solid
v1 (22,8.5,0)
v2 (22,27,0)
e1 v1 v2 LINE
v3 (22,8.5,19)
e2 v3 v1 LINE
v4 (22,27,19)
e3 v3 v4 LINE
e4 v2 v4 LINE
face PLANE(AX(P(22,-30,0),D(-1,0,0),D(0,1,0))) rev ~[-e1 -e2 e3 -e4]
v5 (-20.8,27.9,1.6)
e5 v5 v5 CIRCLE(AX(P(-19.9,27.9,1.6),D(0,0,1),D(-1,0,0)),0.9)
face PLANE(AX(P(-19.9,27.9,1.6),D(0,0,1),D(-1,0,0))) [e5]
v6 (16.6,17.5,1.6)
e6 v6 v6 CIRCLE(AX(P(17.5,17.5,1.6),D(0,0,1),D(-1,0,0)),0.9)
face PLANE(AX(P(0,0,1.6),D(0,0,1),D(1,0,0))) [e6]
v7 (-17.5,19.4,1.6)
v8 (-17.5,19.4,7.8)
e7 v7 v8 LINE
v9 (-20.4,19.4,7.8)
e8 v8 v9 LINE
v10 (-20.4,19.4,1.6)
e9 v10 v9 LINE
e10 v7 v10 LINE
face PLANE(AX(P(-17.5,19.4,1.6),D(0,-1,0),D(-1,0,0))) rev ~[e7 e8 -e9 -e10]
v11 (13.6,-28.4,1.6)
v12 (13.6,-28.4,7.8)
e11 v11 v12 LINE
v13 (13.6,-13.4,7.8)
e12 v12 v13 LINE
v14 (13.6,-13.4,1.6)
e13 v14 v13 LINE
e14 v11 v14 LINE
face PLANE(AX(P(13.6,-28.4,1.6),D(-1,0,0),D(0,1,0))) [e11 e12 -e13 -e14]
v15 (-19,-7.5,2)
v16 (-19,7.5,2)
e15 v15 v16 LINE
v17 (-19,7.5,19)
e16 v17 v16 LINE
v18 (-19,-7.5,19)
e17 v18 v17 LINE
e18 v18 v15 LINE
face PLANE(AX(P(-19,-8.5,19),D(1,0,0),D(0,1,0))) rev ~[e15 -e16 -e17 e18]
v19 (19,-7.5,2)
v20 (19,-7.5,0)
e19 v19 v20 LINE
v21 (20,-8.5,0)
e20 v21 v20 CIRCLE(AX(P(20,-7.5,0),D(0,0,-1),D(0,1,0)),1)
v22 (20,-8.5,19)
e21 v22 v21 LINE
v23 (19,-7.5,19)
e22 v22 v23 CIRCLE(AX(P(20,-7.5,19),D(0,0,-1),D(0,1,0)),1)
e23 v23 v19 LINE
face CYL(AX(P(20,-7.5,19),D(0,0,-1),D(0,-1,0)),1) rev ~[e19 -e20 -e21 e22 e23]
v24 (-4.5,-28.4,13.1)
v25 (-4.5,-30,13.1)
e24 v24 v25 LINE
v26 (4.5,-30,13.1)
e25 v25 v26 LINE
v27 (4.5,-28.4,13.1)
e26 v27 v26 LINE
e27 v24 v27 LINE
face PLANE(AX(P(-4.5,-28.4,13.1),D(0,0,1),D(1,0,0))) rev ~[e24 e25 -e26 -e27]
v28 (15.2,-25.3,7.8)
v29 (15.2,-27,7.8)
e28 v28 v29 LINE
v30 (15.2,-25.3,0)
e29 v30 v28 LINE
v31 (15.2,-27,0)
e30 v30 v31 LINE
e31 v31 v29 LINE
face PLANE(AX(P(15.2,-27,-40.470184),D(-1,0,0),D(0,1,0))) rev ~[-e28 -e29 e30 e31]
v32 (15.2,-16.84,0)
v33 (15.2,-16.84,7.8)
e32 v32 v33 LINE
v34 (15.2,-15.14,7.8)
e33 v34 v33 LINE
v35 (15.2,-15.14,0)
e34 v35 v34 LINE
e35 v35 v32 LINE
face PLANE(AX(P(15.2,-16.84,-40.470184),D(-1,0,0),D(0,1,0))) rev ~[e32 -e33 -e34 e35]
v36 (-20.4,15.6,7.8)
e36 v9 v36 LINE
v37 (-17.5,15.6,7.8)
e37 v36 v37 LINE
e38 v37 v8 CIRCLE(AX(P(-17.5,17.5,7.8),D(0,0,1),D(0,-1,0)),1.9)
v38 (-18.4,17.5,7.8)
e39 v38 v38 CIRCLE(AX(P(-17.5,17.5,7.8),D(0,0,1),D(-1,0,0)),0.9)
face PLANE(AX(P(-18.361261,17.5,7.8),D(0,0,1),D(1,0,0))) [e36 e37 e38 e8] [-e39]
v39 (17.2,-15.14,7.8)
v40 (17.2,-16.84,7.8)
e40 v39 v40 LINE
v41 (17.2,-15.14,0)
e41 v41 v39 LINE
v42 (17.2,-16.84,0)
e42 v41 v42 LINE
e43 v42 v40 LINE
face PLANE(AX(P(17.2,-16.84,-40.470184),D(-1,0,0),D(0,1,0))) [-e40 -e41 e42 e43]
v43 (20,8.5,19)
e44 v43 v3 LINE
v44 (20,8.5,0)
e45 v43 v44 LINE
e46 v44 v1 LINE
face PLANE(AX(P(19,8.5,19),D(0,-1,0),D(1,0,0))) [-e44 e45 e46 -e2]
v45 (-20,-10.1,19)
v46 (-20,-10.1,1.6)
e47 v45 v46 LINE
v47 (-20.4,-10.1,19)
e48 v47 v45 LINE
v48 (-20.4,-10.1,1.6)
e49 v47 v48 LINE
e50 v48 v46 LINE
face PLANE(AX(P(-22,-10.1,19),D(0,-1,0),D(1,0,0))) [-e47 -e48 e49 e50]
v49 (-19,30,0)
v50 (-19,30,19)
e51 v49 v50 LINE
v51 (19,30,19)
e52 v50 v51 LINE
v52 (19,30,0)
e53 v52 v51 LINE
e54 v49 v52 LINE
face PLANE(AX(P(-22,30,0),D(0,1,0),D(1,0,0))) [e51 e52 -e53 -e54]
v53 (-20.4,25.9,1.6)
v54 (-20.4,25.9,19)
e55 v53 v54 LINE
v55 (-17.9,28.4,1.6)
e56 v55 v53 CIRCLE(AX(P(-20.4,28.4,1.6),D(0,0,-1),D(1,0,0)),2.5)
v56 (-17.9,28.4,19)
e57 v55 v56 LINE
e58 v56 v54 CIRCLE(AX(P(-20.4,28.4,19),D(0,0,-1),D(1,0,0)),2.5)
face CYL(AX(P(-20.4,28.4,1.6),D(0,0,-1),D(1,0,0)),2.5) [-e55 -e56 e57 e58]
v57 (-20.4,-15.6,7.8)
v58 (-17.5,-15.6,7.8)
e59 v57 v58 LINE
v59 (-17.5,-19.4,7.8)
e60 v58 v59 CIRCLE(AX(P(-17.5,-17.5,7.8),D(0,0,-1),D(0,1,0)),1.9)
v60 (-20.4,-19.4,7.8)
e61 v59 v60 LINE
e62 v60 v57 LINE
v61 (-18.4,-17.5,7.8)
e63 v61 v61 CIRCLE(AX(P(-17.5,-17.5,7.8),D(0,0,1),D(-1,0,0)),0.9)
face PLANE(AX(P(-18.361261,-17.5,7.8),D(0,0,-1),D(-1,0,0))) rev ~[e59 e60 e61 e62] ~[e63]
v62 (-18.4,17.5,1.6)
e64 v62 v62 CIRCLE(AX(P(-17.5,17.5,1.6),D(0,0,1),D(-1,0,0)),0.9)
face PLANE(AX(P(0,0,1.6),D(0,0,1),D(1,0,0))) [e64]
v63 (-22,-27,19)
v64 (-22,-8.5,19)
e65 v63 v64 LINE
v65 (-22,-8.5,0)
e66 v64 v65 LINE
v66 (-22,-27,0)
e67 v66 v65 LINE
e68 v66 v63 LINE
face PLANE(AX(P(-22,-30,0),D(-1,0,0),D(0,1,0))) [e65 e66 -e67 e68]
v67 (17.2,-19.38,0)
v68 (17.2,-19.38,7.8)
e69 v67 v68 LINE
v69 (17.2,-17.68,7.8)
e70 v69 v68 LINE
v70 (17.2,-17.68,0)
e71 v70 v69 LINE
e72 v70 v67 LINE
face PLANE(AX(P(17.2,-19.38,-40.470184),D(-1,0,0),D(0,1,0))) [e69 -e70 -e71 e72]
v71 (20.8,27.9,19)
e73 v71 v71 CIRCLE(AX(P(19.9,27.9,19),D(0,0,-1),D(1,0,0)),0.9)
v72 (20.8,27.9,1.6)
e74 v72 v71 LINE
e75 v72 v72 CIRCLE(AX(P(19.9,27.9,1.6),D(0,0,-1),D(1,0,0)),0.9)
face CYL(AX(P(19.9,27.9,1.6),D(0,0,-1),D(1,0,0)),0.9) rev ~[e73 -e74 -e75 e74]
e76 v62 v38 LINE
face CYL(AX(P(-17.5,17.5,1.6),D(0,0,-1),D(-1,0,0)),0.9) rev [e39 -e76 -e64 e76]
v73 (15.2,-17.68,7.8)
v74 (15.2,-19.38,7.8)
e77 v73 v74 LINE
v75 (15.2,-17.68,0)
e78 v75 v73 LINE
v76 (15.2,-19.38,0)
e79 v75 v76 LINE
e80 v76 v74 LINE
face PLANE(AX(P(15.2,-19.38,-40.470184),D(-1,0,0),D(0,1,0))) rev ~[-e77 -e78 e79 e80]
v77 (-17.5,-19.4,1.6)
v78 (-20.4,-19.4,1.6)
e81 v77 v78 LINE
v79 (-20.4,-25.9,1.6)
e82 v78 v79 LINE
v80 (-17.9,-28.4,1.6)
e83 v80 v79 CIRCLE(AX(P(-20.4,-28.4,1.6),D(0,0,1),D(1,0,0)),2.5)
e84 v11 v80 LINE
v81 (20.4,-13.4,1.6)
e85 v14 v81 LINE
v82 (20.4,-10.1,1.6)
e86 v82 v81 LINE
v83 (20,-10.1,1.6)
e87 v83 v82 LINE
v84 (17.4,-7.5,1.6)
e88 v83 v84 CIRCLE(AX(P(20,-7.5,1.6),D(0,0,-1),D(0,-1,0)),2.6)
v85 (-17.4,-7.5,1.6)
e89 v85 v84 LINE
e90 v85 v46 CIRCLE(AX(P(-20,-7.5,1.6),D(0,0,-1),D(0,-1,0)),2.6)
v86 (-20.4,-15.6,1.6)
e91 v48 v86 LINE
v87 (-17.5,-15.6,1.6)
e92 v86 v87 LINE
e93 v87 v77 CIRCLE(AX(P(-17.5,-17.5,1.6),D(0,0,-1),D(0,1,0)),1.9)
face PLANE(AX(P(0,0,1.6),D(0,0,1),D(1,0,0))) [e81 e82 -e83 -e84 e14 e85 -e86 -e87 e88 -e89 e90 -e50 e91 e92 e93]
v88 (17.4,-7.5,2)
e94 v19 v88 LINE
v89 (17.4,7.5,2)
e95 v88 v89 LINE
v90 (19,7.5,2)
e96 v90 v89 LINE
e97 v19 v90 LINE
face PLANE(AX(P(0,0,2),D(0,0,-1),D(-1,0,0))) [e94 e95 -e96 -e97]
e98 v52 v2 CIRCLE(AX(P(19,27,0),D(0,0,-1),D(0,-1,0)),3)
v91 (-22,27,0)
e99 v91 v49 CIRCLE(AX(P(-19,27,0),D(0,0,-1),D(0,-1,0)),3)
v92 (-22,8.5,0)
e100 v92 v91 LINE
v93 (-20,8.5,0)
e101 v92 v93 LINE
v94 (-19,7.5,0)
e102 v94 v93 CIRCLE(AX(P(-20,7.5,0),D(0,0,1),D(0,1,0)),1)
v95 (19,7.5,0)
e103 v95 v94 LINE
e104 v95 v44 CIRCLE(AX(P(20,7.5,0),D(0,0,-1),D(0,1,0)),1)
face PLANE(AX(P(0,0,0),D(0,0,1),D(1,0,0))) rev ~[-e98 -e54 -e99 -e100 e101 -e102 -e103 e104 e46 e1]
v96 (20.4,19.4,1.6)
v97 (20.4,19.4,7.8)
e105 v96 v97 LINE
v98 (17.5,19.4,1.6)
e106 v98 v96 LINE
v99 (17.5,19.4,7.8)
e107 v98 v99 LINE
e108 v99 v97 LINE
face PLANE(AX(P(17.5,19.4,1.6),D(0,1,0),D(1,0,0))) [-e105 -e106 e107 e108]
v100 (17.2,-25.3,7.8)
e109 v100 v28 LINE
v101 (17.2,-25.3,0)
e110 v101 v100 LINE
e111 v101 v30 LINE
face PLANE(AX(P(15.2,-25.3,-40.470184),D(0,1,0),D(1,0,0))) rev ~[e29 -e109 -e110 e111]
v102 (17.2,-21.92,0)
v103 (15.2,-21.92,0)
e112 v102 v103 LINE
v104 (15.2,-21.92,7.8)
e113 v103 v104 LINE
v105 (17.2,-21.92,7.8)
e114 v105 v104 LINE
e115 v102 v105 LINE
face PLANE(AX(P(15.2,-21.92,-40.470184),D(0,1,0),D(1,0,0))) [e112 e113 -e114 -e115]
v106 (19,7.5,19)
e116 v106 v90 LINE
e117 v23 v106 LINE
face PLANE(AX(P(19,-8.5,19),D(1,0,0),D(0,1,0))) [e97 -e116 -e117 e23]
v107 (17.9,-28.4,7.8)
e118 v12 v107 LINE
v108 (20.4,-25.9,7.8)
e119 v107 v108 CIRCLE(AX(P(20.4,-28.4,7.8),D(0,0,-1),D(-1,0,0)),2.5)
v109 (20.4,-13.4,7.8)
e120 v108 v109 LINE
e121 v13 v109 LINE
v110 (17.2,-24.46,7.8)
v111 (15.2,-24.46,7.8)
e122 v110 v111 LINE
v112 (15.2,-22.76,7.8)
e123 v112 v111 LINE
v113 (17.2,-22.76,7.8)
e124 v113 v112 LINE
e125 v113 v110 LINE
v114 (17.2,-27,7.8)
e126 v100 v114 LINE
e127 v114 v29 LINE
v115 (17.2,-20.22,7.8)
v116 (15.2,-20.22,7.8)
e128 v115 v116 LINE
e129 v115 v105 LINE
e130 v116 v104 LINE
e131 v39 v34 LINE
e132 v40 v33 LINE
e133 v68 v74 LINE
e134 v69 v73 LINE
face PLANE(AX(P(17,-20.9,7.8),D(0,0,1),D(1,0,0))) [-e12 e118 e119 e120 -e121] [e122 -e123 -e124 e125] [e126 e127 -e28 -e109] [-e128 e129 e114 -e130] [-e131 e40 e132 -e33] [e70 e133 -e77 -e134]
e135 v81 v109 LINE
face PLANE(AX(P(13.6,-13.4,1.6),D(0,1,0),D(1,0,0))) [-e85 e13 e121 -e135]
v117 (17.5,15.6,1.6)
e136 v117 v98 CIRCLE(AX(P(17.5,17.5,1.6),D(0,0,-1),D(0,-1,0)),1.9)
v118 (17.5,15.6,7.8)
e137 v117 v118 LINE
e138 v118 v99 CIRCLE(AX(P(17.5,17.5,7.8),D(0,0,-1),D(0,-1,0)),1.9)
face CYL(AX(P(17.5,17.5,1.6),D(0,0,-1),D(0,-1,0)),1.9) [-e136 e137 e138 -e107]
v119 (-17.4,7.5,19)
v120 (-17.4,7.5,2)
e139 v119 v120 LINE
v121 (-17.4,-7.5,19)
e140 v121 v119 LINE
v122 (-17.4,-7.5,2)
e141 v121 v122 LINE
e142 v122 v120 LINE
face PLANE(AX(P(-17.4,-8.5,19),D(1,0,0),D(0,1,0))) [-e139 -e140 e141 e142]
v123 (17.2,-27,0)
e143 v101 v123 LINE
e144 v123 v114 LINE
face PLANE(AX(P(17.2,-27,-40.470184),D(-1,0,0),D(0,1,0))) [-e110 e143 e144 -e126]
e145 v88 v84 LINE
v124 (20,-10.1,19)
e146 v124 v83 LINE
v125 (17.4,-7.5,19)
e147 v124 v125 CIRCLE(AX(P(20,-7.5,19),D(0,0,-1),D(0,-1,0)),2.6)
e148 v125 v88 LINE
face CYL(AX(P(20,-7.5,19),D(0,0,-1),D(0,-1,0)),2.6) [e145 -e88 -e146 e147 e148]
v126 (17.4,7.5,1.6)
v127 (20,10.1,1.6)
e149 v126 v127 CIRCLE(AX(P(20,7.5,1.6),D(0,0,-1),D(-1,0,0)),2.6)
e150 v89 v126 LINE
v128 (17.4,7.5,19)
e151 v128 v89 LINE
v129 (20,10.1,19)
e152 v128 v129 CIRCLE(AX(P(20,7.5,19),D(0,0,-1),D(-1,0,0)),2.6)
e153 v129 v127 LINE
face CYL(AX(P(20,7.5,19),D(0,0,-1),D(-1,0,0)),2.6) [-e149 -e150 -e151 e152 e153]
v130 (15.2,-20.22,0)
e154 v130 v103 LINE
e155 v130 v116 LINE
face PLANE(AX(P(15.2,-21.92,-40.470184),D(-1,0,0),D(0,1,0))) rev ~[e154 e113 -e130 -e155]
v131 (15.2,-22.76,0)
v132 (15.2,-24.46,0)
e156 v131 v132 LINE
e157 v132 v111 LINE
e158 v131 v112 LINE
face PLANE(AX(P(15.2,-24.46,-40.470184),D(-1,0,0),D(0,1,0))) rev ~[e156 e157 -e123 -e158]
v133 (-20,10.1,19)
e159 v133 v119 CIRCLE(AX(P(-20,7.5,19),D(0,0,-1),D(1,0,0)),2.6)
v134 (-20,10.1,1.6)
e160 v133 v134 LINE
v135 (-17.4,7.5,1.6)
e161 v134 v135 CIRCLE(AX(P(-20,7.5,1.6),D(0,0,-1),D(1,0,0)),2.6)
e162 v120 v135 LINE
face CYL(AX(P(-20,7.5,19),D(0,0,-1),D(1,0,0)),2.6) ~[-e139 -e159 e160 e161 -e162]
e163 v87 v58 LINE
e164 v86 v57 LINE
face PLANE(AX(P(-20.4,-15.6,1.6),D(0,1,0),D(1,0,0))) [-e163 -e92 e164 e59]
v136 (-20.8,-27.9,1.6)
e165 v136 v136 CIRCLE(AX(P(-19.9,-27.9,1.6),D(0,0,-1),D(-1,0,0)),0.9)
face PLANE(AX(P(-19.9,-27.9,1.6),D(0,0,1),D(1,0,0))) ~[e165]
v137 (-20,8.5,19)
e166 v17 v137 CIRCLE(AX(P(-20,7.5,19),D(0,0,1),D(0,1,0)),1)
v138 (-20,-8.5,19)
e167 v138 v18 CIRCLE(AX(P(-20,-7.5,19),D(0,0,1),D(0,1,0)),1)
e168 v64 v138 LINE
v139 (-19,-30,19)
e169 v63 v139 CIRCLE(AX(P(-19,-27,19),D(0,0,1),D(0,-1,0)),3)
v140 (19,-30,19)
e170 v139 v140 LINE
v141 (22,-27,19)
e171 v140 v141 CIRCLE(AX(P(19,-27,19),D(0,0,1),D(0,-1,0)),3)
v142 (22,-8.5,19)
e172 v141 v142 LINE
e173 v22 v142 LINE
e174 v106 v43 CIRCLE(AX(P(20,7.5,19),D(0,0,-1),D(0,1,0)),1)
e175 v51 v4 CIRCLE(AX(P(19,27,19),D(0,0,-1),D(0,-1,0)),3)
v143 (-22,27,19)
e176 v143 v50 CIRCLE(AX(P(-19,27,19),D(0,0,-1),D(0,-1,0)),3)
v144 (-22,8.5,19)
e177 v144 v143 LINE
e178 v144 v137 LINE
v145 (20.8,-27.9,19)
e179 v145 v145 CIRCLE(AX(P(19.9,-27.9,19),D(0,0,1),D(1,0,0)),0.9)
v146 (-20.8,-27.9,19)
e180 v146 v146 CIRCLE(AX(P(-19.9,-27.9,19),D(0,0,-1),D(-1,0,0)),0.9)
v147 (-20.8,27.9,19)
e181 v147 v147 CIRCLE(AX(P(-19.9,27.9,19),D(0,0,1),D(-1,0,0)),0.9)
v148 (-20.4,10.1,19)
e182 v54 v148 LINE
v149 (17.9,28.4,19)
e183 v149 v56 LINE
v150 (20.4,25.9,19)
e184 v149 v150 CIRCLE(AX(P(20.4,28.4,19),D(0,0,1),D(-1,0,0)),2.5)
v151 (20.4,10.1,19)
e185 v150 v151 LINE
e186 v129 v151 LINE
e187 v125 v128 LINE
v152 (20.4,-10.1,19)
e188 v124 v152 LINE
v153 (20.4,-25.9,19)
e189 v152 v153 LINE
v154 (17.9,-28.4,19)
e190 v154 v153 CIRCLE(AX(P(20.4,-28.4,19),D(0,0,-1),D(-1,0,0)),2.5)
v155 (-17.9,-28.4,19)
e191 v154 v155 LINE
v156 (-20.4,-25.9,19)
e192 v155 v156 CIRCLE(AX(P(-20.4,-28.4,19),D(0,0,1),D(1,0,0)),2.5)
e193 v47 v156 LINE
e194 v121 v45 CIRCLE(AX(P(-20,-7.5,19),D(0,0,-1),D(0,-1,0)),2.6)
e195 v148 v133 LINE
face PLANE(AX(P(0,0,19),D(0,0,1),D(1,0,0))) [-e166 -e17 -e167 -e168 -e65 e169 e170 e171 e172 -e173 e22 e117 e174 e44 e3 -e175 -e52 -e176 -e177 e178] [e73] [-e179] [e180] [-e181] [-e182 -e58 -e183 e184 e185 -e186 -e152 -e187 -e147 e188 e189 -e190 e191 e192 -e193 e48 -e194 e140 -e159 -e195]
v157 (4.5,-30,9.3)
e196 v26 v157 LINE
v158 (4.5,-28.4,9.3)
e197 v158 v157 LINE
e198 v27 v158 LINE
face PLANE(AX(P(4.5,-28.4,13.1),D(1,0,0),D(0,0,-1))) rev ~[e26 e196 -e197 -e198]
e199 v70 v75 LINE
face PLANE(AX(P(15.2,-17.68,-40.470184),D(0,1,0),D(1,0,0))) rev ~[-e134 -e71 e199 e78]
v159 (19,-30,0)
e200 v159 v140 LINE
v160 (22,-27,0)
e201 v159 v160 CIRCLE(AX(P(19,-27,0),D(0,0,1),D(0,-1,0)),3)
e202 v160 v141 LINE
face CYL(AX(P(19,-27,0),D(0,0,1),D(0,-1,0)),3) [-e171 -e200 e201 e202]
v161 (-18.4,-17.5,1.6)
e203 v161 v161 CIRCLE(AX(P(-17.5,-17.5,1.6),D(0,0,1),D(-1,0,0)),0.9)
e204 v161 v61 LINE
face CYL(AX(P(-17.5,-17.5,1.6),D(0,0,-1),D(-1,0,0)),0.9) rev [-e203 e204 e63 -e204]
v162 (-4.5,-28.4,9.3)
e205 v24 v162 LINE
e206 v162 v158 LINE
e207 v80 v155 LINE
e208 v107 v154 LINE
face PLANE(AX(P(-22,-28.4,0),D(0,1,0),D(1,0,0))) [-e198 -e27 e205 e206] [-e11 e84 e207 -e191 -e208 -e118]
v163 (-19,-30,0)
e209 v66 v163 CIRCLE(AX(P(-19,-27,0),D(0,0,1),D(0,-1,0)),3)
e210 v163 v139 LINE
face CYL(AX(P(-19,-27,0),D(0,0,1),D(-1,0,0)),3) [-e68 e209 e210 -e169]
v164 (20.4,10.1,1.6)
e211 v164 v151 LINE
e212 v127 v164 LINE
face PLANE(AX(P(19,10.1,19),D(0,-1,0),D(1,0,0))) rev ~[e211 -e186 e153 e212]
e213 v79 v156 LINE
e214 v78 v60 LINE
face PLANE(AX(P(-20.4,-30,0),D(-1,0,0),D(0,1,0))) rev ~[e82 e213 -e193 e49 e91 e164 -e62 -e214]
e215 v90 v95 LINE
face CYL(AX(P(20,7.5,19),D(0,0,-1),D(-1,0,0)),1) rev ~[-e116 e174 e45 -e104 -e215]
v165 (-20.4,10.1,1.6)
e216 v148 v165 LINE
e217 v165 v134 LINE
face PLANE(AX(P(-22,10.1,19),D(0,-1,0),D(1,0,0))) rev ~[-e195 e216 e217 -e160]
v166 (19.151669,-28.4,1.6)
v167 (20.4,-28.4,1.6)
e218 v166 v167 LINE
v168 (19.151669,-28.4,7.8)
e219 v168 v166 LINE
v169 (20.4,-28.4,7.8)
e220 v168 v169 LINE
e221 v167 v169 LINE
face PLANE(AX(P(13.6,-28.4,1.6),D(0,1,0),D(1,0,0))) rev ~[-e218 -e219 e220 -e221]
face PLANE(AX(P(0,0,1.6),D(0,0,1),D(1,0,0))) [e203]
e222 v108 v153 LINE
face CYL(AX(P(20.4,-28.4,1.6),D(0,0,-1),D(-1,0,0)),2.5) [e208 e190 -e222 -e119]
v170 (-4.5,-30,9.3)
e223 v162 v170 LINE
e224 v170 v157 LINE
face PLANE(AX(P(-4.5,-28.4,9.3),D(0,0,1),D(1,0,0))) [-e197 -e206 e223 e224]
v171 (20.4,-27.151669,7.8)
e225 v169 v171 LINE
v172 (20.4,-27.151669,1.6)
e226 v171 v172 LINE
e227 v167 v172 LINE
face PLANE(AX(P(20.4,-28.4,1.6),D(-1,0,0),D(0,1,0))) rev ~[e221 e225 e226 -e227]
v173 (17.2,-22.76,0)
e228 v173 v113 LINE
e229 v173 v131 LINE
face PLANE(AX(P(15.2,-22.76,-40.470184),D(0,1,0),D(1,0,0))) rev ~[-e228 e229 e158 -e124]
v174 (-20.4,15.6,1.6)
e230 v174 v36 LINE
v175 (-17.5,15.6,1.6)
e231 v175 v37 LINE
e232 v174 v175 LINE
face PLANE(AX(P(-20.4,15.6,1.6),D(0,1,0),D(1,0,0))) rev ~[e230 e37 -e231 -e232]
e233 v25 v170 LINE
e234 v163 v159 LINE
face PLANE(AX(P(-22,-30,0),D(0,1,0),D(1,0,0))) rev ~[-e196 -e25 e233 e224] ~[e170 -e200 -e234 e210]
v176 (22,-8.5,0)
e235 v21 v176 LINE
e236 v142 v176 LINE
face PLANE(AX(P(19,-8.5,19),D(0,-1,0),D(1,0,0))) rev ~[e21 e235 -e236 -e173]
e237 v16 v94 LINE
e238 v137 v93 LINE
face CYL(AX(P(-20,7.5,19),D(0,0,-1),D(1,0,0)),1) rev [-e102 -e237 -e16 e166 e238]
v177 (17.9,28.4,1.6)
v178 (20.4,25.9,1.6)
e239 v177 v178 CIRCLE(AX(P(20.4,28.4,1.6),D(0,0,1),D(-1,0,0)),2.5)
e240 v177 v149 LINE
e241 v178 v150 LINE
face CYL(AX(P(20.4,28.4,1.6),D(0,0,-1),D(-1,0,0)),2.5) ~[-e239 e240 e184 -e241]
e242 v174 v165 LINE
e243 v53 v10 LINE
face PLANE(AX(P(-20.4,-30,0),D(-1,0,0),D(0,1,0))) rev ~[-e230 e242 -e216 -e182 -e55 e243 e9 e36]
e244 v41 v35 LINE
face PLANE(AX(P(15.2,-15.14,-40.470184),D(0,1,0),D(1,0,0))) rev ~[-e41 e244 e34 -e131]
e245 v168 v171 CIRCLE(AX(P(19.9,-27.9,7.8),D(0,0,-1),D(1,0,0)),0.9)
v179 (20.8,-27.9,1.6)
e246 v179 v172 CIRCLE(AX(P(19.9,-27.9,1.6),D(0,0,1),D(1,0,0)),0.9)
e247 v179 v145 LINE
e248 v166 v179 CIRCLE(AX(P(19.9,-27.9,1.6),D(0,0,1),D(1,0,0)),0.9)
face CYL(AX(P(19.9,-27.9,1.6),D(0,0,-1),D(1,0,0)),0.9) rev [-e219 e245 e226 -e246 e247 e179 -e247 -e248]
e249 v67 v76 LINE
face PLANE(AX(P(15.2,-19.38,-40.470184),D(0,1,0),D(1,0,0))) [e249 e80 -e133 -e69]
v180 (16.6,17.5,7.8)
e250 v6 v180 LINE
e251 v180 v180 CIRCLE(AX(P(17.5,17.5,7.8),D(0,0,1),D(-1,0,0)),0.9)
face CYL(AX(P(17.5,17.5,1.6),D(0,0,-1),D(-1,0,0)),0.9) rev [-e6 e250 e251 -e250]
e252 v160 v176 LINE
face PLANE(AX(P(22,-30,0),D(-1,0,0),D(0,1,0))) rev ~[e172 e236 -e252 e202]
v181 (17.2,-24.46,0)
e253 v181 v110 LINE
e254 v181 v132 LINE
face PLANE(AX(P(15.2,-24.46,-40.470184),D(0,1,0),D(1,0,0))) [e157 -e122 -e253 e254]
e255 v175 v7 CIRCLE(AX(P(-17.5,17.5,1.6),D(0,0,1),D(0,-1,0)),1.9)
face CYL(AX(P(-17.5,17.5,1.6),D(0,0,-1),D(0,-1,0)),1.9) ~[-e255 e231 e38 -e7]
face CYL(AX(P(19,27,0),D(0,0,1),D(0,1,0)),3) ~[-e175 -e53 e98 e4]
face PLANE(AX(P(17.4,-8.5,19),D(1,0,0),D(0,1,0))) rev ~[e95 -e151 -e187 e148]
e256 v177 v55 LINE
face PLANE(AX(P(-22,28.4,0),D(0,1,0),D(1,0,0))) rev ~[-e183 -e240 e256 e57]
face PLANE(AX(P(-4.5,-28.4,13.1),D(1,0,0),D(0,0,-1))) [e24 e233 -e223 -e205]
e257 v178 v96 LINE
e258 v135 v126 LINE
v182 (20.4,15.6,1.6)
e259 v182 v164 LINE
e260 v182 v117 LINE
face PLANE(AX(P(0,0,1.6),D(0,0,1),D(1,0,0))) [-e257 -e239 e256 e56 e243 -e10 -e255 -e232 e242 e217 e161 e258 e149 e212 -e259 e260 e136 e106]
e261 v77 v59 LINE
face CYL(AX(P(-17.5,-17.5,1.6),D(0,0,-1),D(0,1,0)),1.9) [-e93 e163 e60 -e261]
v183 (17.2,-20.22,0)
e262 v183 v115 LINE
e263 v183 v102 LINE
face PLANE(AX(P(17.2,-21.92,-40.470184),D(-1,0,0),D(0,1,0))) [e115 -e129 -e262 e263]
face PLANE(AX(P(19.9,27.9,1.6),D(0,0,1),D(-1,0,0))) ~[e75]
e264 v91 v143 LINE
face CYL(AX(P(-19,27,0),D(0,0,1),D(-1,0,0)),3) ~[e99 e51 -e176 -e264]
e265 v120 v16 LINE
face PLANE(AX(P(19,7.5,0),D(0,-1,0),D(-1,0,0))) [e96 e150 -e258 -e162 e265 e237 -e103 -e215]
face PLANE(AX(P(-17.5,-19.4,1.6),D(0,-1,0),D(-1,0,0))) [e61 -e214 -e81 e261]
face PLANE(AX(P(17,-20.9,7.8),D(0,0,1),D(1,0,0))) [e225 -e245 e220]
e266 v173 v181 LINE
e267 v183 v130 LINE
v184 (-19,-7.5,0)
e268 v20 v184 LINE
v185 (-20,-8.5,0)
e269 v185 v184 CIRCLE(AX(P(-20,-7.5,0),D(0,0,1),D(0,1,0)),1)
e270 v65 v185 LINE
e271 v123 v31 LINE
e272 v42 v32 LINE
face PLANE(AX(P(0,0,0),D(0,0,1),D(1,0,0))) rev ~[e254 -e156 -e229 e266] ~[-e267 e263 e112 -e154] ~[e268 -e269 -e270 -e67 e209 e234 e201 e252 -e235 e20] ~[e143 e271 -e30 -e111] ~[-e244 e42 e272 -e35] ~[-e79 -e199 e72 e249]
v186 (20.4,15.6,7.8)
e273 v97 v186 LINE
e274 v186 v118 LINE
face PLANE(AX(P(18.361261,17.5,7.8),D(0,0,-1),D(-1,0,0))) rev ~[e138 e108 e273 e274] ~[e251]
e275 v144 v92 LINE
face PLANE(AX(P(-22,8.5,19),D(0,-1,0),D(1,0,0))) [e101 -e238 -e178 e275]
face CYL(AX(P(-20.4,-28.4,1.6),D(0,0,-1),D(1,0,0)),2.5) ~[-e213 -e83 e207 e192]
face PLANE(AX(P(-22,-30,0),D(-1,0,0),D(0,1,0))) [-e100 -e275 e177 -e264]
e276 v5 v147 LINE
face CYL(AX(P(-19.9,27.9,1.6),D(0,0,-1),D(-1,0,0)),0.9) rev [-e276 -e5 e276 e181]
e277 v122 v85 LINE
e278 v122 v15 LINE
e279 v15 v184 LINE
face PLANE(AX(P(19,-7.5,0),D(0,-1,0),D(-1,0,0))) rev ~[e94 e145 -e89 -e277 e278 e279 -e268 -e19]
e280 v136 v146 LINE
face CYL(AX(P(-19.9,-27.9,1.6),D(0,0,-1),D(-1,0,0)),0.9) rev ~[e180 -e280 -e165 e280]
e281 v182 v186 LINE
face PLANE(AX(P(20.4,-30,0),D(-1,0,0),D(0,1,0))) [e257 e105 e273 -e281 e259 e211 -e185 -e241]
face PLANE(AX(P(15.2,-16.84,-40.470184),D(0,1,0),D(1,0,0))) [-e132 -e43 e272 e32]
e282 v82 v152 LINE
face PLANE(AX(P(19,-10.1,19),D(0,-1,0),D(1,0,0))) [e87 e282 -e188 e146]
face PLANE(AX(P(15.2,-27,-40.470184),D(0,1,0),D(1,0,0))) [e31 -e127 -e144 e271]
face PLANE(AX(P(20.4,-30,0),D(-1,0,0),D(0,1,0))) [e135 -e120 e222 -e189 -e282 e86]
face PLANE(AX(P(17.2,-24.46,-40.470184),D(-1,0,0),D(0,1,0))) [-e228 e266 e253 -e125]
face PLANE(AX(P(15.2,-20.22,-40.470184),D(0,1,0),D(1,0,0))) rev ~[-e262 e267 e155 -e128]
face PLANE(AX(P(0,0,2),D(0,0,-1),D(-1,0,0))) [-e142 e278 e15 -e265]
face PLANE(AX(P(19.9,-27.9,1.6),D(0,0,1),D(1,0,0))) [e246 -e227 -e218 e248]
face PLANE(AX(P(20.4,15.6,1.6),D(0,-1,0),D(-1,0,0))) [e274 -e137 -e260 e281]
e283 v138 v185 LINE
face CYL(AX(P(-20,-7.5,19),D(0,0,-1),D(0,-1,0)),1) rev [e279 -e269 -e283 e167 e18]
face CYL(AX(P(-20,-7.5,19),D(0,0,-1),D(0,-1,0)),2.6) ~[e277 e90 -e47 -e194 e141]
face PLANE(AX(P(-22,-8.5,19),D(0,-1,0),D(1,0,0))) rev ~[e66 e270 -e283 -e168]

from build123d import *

# Parameters (mm, degrees)
SKETCH_1_W               = 44
SKETCH_1_H               = 60
EXTRUDE_1_DEPTH          = 19
SKETCH_2_W               = 3
SKETCH_2_H               = 17
CUT_EXTRUDE_1_DEPTH      = 42.773197148
FILLET_1_R               = 3
FILLET_2_R               = 1
SHELL_1_T                = -1.6
EXTRUDE_2_DEPTH          = 17.4
SKETCH_3_3_R             = 0.9
CUT_EXTRUDE_2_DEPTH      = 17.4
MIRROR_2_COPY_1_DEPTH    = 17.4
MIRROR_2_COPY_2_SKETCH_R = 0.9
MIRROR_2_COPY_2_DEPTH    = 17.4
SKETCH_4_W               = 6.8
SKETCH_4_H               = 15
EXTRUDE_3_DEPTH          = 6.2
CUT_EXTRUDE_3_DEPTH      = 42.070183832
CUT_EXTRUDE_3_DEPTH_BACK = 42.070183832
SKETCH_4_4_W             = 2
SKETCH_4_4_H             = 1.7
SKETCH_5_R               = 0.9
EXTRUDE_4_DEPTH          = 6.2
SKETCH_6_W               = 9
SKETCH_6_H               = 3.8
CUT_EXTRUDE_4_DEPTH      = 66.234653368
SKETCH_7_W               = 38
SKETCH_7_H               = 15
CUT_EXTRUDE_5_DEPTH      = 2


with BuildPart() as part:
    # 草图1 → 凸台-拉伸1 (new body)
    with BuildSketch(Plane.XY):
        Rectangle(SKETCH_1_W, SKETCH_1_H)
    extrude(amount=EXTRUDE_1_DEPTH)

    # 草图2 → 切除-拉伸1 (cut, through all)
    with BuildSketch(Plane.XY.offset(19)):
        with Locations((-20.5, 0)):
            Rectangle(SKETCH_2_W, SKETCH_2_H)
        with Locations((20.5, 0)):
            Rectangle(SKETCH_2_W, SKETCH_2_H)
    extrude(amount=-CUT_EXTRUDE_1_DEPTH, mode=Mode.SUBTRACT)

    # 圆角1
    fillet_1_edges = [part.edges().sort_by_distance(p)[0] for p in [
        (22, -30, 9.5),
        (-22, -30, 9.5),
        (-22, 30, 9.5),
        (22, 30, 9.5),
    ]]
    fillet(fillet_1_edges, radius=FILLET_1_R)

    # 圆角2
    fillet_2_edges = [part.edges().sort_by_distance(p)[0] for p in [
        (-19, 8.5, 9.5),
        (-19, -8.5, 9.5),
        (19, -8.5, 9.5),
        (19, 8.5, 9.5),
    ]]
    fillet(fillet_2_edges, radius=FILLET_2_R)

    # 抽壳1
    shell_1_openings = [part.faces().sort_by_distance(p)[0] for p in [
        (0, 0, 19),
    ]]
    offset(amount=SHELL_1_T, openings=shell_1_openings, kind=Kind.INTERSECTION)

    # 草图3 → 凸台-拉伸2 (add)
    with BuildSketch(Plane.XY.offset(1.6)):
        with BuildLine():
            Line((-20.4, 28.4), (-17.9, 28.4))
            ThreePointArc((-17.9, 28.4), (-18.632233047, 26.632233047), (-20.4, 25.9))
            Line((-20.4, 25.9), (-20.4, 28.4))
        make_face()
    extrude_2 = extrude(amount=EXTRUDE_2_DEPTH)

    # 草图3<3> → 切除-拉伸2 (cut)
    with BuildSketch(Plane.XY.offset(1.6)):
        with Locations(Location((-19.9, 27.9, 0), (0, 0, 180))):
            Circle(SKETCH_3_3_R)
    cut_extrude_2 = extrude(amount=CUT_EXTRUDE_2_DEPTH, mode=Mode.SUBTRACT)

    # 镜向1: 凸台-拉伸2, 切除-拉伸2 across plane
    add(extrude_2.mirror(Plane(origin=(0, 0, 0), x_dir=(0, 0, 1), z_dir=(1, 0, 0))))
    add(cut_extrude_2.mirror(Plane(origin=(0, 0, 0), x_dir=(0, 0, 1), z_dir=(1, 0, 0))), mode=Mode.SUBTRACT)

    # 镜向2: 凸台-拉伸2, 切除-拉伸2 across plane
    add(extrude_2.mirror(Plane.ZX))
    add(cut_extrude_2.mirror(Plane.ZX), mode=Mode.SUBTRACT)

    # 镜向2 copy 1 sketch → 镜向2 copy 1 (add)
    with BuildSketch(Plane(origin=(0, 0, 1.6), x_dir=(-1, 0, 0), z_dir=(0, 0, 1))):
        with BuildLine():
            Line((-20.4, 28.4), (-17.9, 28.4))
            ThreePointArc((-17.9, 28.4), (-18.632233047, 26.632233047), (-20.4, 25.9))
            Line((-20.4, 25.9), (-20.4, 28.4))
        make_face()
    extrude(amount=MIRROR_2_COPY_1_DEPTH)

    # 镜向2 copy 2 sketch → 镜向2 copy 2 (cut)
    with BuildSketch(Plane(origin=(0, 0, 1.6), x_dir=(-1, 0, 0), z_dir=(0, 0, 1))):
        with Locations(Location((-19.9, 27.9, 0), (0, 0, 180))):
            Circle(MIRROR_2_COPY_2_SKETCH_R)
    extrude(amount=MIRROR_2_COPY_2_DEPTH, mode=Mode.SUBTRACT)

    # 草图4 → 凸台-拉伸3 (add)
    with BuildSketch(Plane.XY.offset(1.6)):
        with Locations((17, -20.9)):
            Rectangle(SKETCH_4_W, SKETCH_4_H)
    extrude(amount=EXTRUDE_3_DEPTH)

    # 草图4<4> → 切除-拉伸3 (cut, two sides: drawn at the far end of the back side and taken through both)
    with BuildSketch(Plane.XY.offset(1.6).offset(-CUT_EXTRUDE_3_DEPTH_BACK)):
        with Locations((16.2, -26.15)):
            Rectangle(SKETCH_4_4_W, SKETCH_4_4_H)
        with Locations((16.2, -23.61)):
            Rectangle(SKETCH_4_4_W, SKETCH_4_4_H)
        with Locations((16.2, -21.07)):
            Rectangle(SKETCH_4_4_W, SKETCH_4_4_H)
        with Locations((16.2, -18.53)):
            Rectangle(SKETCH_4_4_W, SKETCH_4_4_H)
        with Locations((16.2, -15.99)):
            Rectangle(SKETCH_4_4_W, SKETCH_4_4_H)
    extrude(amount=CUT_EXTRUDE_3_DEPTH + CUT_EXTRUDE_3_DEPTH_BACK, mode=Mode.SUBTRACT)

    # 草图5 → 凸台-拉伸4 (add)
    # profile 1 of 3: a face of its own
    with BuildSketch(Plane.XY.offset(1.6)):
        with BuildLine():
            Line((-17.5, 19.4), (-20.4, 19.4))
            Line((-20.4, 19.4), (-20.4, 15.6))
            Line((-20.4, 15.6), (-17.5, 15.6))
            ThreePointArc((-17.5, 15.6), (-15.6, 17.5), (-17.5, 19.4))
        make_face()
        with Locations(Location((-17.5, 17.5, 0), (0, 0, 180))):
            Circle(SKETCH_5_R, mode=Mode.SUBTRACT)
    # profile 2 of 3: a face of its own
    with BuildSketch(Plane.XY.offset(1.6)):
        with BuildLine():
            Line((20.4, 15.6), (17.5, 15.6))
            ThreePointArc((17.5, 15.6), (15.6, 17.5), (17.5, 19.4))
            Line((17.5, 19.4), (20.4, 19.4))
            Line((20.4, 19.4), (20.4, 15.6))
        make_face()
        with Locations(Location((17.5, 17.5, 0), (0, 0, 180))):
            Circle(SKETCH_5_R, mode=Mode.SUBTRACT)
    # profile 3 of 3: a face of its own
    with BuildSketch(Plane.XY.offset(1.6)):
        with BuildLine():
            Line((-20.4, -15.6), (-17.5, -15.6))
            ThreePointArc((-17.5, -15.6), (-15.6, -17.5), (-17.5, -19.4))
            Line((-17.5, -19.4), (-20.4, -19.4))
            Line((-20.4, -19.4), (-20.4, -15.6))
        make_face()
        with Locations(Location((-17.5, -17.5, 0), (0, 0, 180))):
            Circle(SKETCH_5_R, mode=Mode.SUBTRACT)
    extrude(amount=EXTRUDE_4_DEPTH)

    # 草图6 → 切除-拉伸4 (cut, through all)
    with BuildSketch(Plane(origin=(0, -28.4, 0), x_dir=(1, 0, 0), z_dir=(0, 1, 0))):
        with Locations((0, -11.2)):
            Rectangle(SKETCH_6_W, SKETCH_6_H)
    extrude(amount=-CUT_EXTRUDE_4_DEPTH, mode=Mode.SUBTRACT)

    # 草图7 → 切除-拉伸5 (cut)
    with BuildSketch(Plane(origin=(0, 0, 0), x_dir=(-1, 0, 0), z_dir=(0, 0, -1))):
        Rectangle(SKETCH_7_W, SKETCH_7_H)
    extrude(amount=-CUT_EXTRUDE_5_DEPTH, mode=Mode.SUBTRACT)


solid = part.part
